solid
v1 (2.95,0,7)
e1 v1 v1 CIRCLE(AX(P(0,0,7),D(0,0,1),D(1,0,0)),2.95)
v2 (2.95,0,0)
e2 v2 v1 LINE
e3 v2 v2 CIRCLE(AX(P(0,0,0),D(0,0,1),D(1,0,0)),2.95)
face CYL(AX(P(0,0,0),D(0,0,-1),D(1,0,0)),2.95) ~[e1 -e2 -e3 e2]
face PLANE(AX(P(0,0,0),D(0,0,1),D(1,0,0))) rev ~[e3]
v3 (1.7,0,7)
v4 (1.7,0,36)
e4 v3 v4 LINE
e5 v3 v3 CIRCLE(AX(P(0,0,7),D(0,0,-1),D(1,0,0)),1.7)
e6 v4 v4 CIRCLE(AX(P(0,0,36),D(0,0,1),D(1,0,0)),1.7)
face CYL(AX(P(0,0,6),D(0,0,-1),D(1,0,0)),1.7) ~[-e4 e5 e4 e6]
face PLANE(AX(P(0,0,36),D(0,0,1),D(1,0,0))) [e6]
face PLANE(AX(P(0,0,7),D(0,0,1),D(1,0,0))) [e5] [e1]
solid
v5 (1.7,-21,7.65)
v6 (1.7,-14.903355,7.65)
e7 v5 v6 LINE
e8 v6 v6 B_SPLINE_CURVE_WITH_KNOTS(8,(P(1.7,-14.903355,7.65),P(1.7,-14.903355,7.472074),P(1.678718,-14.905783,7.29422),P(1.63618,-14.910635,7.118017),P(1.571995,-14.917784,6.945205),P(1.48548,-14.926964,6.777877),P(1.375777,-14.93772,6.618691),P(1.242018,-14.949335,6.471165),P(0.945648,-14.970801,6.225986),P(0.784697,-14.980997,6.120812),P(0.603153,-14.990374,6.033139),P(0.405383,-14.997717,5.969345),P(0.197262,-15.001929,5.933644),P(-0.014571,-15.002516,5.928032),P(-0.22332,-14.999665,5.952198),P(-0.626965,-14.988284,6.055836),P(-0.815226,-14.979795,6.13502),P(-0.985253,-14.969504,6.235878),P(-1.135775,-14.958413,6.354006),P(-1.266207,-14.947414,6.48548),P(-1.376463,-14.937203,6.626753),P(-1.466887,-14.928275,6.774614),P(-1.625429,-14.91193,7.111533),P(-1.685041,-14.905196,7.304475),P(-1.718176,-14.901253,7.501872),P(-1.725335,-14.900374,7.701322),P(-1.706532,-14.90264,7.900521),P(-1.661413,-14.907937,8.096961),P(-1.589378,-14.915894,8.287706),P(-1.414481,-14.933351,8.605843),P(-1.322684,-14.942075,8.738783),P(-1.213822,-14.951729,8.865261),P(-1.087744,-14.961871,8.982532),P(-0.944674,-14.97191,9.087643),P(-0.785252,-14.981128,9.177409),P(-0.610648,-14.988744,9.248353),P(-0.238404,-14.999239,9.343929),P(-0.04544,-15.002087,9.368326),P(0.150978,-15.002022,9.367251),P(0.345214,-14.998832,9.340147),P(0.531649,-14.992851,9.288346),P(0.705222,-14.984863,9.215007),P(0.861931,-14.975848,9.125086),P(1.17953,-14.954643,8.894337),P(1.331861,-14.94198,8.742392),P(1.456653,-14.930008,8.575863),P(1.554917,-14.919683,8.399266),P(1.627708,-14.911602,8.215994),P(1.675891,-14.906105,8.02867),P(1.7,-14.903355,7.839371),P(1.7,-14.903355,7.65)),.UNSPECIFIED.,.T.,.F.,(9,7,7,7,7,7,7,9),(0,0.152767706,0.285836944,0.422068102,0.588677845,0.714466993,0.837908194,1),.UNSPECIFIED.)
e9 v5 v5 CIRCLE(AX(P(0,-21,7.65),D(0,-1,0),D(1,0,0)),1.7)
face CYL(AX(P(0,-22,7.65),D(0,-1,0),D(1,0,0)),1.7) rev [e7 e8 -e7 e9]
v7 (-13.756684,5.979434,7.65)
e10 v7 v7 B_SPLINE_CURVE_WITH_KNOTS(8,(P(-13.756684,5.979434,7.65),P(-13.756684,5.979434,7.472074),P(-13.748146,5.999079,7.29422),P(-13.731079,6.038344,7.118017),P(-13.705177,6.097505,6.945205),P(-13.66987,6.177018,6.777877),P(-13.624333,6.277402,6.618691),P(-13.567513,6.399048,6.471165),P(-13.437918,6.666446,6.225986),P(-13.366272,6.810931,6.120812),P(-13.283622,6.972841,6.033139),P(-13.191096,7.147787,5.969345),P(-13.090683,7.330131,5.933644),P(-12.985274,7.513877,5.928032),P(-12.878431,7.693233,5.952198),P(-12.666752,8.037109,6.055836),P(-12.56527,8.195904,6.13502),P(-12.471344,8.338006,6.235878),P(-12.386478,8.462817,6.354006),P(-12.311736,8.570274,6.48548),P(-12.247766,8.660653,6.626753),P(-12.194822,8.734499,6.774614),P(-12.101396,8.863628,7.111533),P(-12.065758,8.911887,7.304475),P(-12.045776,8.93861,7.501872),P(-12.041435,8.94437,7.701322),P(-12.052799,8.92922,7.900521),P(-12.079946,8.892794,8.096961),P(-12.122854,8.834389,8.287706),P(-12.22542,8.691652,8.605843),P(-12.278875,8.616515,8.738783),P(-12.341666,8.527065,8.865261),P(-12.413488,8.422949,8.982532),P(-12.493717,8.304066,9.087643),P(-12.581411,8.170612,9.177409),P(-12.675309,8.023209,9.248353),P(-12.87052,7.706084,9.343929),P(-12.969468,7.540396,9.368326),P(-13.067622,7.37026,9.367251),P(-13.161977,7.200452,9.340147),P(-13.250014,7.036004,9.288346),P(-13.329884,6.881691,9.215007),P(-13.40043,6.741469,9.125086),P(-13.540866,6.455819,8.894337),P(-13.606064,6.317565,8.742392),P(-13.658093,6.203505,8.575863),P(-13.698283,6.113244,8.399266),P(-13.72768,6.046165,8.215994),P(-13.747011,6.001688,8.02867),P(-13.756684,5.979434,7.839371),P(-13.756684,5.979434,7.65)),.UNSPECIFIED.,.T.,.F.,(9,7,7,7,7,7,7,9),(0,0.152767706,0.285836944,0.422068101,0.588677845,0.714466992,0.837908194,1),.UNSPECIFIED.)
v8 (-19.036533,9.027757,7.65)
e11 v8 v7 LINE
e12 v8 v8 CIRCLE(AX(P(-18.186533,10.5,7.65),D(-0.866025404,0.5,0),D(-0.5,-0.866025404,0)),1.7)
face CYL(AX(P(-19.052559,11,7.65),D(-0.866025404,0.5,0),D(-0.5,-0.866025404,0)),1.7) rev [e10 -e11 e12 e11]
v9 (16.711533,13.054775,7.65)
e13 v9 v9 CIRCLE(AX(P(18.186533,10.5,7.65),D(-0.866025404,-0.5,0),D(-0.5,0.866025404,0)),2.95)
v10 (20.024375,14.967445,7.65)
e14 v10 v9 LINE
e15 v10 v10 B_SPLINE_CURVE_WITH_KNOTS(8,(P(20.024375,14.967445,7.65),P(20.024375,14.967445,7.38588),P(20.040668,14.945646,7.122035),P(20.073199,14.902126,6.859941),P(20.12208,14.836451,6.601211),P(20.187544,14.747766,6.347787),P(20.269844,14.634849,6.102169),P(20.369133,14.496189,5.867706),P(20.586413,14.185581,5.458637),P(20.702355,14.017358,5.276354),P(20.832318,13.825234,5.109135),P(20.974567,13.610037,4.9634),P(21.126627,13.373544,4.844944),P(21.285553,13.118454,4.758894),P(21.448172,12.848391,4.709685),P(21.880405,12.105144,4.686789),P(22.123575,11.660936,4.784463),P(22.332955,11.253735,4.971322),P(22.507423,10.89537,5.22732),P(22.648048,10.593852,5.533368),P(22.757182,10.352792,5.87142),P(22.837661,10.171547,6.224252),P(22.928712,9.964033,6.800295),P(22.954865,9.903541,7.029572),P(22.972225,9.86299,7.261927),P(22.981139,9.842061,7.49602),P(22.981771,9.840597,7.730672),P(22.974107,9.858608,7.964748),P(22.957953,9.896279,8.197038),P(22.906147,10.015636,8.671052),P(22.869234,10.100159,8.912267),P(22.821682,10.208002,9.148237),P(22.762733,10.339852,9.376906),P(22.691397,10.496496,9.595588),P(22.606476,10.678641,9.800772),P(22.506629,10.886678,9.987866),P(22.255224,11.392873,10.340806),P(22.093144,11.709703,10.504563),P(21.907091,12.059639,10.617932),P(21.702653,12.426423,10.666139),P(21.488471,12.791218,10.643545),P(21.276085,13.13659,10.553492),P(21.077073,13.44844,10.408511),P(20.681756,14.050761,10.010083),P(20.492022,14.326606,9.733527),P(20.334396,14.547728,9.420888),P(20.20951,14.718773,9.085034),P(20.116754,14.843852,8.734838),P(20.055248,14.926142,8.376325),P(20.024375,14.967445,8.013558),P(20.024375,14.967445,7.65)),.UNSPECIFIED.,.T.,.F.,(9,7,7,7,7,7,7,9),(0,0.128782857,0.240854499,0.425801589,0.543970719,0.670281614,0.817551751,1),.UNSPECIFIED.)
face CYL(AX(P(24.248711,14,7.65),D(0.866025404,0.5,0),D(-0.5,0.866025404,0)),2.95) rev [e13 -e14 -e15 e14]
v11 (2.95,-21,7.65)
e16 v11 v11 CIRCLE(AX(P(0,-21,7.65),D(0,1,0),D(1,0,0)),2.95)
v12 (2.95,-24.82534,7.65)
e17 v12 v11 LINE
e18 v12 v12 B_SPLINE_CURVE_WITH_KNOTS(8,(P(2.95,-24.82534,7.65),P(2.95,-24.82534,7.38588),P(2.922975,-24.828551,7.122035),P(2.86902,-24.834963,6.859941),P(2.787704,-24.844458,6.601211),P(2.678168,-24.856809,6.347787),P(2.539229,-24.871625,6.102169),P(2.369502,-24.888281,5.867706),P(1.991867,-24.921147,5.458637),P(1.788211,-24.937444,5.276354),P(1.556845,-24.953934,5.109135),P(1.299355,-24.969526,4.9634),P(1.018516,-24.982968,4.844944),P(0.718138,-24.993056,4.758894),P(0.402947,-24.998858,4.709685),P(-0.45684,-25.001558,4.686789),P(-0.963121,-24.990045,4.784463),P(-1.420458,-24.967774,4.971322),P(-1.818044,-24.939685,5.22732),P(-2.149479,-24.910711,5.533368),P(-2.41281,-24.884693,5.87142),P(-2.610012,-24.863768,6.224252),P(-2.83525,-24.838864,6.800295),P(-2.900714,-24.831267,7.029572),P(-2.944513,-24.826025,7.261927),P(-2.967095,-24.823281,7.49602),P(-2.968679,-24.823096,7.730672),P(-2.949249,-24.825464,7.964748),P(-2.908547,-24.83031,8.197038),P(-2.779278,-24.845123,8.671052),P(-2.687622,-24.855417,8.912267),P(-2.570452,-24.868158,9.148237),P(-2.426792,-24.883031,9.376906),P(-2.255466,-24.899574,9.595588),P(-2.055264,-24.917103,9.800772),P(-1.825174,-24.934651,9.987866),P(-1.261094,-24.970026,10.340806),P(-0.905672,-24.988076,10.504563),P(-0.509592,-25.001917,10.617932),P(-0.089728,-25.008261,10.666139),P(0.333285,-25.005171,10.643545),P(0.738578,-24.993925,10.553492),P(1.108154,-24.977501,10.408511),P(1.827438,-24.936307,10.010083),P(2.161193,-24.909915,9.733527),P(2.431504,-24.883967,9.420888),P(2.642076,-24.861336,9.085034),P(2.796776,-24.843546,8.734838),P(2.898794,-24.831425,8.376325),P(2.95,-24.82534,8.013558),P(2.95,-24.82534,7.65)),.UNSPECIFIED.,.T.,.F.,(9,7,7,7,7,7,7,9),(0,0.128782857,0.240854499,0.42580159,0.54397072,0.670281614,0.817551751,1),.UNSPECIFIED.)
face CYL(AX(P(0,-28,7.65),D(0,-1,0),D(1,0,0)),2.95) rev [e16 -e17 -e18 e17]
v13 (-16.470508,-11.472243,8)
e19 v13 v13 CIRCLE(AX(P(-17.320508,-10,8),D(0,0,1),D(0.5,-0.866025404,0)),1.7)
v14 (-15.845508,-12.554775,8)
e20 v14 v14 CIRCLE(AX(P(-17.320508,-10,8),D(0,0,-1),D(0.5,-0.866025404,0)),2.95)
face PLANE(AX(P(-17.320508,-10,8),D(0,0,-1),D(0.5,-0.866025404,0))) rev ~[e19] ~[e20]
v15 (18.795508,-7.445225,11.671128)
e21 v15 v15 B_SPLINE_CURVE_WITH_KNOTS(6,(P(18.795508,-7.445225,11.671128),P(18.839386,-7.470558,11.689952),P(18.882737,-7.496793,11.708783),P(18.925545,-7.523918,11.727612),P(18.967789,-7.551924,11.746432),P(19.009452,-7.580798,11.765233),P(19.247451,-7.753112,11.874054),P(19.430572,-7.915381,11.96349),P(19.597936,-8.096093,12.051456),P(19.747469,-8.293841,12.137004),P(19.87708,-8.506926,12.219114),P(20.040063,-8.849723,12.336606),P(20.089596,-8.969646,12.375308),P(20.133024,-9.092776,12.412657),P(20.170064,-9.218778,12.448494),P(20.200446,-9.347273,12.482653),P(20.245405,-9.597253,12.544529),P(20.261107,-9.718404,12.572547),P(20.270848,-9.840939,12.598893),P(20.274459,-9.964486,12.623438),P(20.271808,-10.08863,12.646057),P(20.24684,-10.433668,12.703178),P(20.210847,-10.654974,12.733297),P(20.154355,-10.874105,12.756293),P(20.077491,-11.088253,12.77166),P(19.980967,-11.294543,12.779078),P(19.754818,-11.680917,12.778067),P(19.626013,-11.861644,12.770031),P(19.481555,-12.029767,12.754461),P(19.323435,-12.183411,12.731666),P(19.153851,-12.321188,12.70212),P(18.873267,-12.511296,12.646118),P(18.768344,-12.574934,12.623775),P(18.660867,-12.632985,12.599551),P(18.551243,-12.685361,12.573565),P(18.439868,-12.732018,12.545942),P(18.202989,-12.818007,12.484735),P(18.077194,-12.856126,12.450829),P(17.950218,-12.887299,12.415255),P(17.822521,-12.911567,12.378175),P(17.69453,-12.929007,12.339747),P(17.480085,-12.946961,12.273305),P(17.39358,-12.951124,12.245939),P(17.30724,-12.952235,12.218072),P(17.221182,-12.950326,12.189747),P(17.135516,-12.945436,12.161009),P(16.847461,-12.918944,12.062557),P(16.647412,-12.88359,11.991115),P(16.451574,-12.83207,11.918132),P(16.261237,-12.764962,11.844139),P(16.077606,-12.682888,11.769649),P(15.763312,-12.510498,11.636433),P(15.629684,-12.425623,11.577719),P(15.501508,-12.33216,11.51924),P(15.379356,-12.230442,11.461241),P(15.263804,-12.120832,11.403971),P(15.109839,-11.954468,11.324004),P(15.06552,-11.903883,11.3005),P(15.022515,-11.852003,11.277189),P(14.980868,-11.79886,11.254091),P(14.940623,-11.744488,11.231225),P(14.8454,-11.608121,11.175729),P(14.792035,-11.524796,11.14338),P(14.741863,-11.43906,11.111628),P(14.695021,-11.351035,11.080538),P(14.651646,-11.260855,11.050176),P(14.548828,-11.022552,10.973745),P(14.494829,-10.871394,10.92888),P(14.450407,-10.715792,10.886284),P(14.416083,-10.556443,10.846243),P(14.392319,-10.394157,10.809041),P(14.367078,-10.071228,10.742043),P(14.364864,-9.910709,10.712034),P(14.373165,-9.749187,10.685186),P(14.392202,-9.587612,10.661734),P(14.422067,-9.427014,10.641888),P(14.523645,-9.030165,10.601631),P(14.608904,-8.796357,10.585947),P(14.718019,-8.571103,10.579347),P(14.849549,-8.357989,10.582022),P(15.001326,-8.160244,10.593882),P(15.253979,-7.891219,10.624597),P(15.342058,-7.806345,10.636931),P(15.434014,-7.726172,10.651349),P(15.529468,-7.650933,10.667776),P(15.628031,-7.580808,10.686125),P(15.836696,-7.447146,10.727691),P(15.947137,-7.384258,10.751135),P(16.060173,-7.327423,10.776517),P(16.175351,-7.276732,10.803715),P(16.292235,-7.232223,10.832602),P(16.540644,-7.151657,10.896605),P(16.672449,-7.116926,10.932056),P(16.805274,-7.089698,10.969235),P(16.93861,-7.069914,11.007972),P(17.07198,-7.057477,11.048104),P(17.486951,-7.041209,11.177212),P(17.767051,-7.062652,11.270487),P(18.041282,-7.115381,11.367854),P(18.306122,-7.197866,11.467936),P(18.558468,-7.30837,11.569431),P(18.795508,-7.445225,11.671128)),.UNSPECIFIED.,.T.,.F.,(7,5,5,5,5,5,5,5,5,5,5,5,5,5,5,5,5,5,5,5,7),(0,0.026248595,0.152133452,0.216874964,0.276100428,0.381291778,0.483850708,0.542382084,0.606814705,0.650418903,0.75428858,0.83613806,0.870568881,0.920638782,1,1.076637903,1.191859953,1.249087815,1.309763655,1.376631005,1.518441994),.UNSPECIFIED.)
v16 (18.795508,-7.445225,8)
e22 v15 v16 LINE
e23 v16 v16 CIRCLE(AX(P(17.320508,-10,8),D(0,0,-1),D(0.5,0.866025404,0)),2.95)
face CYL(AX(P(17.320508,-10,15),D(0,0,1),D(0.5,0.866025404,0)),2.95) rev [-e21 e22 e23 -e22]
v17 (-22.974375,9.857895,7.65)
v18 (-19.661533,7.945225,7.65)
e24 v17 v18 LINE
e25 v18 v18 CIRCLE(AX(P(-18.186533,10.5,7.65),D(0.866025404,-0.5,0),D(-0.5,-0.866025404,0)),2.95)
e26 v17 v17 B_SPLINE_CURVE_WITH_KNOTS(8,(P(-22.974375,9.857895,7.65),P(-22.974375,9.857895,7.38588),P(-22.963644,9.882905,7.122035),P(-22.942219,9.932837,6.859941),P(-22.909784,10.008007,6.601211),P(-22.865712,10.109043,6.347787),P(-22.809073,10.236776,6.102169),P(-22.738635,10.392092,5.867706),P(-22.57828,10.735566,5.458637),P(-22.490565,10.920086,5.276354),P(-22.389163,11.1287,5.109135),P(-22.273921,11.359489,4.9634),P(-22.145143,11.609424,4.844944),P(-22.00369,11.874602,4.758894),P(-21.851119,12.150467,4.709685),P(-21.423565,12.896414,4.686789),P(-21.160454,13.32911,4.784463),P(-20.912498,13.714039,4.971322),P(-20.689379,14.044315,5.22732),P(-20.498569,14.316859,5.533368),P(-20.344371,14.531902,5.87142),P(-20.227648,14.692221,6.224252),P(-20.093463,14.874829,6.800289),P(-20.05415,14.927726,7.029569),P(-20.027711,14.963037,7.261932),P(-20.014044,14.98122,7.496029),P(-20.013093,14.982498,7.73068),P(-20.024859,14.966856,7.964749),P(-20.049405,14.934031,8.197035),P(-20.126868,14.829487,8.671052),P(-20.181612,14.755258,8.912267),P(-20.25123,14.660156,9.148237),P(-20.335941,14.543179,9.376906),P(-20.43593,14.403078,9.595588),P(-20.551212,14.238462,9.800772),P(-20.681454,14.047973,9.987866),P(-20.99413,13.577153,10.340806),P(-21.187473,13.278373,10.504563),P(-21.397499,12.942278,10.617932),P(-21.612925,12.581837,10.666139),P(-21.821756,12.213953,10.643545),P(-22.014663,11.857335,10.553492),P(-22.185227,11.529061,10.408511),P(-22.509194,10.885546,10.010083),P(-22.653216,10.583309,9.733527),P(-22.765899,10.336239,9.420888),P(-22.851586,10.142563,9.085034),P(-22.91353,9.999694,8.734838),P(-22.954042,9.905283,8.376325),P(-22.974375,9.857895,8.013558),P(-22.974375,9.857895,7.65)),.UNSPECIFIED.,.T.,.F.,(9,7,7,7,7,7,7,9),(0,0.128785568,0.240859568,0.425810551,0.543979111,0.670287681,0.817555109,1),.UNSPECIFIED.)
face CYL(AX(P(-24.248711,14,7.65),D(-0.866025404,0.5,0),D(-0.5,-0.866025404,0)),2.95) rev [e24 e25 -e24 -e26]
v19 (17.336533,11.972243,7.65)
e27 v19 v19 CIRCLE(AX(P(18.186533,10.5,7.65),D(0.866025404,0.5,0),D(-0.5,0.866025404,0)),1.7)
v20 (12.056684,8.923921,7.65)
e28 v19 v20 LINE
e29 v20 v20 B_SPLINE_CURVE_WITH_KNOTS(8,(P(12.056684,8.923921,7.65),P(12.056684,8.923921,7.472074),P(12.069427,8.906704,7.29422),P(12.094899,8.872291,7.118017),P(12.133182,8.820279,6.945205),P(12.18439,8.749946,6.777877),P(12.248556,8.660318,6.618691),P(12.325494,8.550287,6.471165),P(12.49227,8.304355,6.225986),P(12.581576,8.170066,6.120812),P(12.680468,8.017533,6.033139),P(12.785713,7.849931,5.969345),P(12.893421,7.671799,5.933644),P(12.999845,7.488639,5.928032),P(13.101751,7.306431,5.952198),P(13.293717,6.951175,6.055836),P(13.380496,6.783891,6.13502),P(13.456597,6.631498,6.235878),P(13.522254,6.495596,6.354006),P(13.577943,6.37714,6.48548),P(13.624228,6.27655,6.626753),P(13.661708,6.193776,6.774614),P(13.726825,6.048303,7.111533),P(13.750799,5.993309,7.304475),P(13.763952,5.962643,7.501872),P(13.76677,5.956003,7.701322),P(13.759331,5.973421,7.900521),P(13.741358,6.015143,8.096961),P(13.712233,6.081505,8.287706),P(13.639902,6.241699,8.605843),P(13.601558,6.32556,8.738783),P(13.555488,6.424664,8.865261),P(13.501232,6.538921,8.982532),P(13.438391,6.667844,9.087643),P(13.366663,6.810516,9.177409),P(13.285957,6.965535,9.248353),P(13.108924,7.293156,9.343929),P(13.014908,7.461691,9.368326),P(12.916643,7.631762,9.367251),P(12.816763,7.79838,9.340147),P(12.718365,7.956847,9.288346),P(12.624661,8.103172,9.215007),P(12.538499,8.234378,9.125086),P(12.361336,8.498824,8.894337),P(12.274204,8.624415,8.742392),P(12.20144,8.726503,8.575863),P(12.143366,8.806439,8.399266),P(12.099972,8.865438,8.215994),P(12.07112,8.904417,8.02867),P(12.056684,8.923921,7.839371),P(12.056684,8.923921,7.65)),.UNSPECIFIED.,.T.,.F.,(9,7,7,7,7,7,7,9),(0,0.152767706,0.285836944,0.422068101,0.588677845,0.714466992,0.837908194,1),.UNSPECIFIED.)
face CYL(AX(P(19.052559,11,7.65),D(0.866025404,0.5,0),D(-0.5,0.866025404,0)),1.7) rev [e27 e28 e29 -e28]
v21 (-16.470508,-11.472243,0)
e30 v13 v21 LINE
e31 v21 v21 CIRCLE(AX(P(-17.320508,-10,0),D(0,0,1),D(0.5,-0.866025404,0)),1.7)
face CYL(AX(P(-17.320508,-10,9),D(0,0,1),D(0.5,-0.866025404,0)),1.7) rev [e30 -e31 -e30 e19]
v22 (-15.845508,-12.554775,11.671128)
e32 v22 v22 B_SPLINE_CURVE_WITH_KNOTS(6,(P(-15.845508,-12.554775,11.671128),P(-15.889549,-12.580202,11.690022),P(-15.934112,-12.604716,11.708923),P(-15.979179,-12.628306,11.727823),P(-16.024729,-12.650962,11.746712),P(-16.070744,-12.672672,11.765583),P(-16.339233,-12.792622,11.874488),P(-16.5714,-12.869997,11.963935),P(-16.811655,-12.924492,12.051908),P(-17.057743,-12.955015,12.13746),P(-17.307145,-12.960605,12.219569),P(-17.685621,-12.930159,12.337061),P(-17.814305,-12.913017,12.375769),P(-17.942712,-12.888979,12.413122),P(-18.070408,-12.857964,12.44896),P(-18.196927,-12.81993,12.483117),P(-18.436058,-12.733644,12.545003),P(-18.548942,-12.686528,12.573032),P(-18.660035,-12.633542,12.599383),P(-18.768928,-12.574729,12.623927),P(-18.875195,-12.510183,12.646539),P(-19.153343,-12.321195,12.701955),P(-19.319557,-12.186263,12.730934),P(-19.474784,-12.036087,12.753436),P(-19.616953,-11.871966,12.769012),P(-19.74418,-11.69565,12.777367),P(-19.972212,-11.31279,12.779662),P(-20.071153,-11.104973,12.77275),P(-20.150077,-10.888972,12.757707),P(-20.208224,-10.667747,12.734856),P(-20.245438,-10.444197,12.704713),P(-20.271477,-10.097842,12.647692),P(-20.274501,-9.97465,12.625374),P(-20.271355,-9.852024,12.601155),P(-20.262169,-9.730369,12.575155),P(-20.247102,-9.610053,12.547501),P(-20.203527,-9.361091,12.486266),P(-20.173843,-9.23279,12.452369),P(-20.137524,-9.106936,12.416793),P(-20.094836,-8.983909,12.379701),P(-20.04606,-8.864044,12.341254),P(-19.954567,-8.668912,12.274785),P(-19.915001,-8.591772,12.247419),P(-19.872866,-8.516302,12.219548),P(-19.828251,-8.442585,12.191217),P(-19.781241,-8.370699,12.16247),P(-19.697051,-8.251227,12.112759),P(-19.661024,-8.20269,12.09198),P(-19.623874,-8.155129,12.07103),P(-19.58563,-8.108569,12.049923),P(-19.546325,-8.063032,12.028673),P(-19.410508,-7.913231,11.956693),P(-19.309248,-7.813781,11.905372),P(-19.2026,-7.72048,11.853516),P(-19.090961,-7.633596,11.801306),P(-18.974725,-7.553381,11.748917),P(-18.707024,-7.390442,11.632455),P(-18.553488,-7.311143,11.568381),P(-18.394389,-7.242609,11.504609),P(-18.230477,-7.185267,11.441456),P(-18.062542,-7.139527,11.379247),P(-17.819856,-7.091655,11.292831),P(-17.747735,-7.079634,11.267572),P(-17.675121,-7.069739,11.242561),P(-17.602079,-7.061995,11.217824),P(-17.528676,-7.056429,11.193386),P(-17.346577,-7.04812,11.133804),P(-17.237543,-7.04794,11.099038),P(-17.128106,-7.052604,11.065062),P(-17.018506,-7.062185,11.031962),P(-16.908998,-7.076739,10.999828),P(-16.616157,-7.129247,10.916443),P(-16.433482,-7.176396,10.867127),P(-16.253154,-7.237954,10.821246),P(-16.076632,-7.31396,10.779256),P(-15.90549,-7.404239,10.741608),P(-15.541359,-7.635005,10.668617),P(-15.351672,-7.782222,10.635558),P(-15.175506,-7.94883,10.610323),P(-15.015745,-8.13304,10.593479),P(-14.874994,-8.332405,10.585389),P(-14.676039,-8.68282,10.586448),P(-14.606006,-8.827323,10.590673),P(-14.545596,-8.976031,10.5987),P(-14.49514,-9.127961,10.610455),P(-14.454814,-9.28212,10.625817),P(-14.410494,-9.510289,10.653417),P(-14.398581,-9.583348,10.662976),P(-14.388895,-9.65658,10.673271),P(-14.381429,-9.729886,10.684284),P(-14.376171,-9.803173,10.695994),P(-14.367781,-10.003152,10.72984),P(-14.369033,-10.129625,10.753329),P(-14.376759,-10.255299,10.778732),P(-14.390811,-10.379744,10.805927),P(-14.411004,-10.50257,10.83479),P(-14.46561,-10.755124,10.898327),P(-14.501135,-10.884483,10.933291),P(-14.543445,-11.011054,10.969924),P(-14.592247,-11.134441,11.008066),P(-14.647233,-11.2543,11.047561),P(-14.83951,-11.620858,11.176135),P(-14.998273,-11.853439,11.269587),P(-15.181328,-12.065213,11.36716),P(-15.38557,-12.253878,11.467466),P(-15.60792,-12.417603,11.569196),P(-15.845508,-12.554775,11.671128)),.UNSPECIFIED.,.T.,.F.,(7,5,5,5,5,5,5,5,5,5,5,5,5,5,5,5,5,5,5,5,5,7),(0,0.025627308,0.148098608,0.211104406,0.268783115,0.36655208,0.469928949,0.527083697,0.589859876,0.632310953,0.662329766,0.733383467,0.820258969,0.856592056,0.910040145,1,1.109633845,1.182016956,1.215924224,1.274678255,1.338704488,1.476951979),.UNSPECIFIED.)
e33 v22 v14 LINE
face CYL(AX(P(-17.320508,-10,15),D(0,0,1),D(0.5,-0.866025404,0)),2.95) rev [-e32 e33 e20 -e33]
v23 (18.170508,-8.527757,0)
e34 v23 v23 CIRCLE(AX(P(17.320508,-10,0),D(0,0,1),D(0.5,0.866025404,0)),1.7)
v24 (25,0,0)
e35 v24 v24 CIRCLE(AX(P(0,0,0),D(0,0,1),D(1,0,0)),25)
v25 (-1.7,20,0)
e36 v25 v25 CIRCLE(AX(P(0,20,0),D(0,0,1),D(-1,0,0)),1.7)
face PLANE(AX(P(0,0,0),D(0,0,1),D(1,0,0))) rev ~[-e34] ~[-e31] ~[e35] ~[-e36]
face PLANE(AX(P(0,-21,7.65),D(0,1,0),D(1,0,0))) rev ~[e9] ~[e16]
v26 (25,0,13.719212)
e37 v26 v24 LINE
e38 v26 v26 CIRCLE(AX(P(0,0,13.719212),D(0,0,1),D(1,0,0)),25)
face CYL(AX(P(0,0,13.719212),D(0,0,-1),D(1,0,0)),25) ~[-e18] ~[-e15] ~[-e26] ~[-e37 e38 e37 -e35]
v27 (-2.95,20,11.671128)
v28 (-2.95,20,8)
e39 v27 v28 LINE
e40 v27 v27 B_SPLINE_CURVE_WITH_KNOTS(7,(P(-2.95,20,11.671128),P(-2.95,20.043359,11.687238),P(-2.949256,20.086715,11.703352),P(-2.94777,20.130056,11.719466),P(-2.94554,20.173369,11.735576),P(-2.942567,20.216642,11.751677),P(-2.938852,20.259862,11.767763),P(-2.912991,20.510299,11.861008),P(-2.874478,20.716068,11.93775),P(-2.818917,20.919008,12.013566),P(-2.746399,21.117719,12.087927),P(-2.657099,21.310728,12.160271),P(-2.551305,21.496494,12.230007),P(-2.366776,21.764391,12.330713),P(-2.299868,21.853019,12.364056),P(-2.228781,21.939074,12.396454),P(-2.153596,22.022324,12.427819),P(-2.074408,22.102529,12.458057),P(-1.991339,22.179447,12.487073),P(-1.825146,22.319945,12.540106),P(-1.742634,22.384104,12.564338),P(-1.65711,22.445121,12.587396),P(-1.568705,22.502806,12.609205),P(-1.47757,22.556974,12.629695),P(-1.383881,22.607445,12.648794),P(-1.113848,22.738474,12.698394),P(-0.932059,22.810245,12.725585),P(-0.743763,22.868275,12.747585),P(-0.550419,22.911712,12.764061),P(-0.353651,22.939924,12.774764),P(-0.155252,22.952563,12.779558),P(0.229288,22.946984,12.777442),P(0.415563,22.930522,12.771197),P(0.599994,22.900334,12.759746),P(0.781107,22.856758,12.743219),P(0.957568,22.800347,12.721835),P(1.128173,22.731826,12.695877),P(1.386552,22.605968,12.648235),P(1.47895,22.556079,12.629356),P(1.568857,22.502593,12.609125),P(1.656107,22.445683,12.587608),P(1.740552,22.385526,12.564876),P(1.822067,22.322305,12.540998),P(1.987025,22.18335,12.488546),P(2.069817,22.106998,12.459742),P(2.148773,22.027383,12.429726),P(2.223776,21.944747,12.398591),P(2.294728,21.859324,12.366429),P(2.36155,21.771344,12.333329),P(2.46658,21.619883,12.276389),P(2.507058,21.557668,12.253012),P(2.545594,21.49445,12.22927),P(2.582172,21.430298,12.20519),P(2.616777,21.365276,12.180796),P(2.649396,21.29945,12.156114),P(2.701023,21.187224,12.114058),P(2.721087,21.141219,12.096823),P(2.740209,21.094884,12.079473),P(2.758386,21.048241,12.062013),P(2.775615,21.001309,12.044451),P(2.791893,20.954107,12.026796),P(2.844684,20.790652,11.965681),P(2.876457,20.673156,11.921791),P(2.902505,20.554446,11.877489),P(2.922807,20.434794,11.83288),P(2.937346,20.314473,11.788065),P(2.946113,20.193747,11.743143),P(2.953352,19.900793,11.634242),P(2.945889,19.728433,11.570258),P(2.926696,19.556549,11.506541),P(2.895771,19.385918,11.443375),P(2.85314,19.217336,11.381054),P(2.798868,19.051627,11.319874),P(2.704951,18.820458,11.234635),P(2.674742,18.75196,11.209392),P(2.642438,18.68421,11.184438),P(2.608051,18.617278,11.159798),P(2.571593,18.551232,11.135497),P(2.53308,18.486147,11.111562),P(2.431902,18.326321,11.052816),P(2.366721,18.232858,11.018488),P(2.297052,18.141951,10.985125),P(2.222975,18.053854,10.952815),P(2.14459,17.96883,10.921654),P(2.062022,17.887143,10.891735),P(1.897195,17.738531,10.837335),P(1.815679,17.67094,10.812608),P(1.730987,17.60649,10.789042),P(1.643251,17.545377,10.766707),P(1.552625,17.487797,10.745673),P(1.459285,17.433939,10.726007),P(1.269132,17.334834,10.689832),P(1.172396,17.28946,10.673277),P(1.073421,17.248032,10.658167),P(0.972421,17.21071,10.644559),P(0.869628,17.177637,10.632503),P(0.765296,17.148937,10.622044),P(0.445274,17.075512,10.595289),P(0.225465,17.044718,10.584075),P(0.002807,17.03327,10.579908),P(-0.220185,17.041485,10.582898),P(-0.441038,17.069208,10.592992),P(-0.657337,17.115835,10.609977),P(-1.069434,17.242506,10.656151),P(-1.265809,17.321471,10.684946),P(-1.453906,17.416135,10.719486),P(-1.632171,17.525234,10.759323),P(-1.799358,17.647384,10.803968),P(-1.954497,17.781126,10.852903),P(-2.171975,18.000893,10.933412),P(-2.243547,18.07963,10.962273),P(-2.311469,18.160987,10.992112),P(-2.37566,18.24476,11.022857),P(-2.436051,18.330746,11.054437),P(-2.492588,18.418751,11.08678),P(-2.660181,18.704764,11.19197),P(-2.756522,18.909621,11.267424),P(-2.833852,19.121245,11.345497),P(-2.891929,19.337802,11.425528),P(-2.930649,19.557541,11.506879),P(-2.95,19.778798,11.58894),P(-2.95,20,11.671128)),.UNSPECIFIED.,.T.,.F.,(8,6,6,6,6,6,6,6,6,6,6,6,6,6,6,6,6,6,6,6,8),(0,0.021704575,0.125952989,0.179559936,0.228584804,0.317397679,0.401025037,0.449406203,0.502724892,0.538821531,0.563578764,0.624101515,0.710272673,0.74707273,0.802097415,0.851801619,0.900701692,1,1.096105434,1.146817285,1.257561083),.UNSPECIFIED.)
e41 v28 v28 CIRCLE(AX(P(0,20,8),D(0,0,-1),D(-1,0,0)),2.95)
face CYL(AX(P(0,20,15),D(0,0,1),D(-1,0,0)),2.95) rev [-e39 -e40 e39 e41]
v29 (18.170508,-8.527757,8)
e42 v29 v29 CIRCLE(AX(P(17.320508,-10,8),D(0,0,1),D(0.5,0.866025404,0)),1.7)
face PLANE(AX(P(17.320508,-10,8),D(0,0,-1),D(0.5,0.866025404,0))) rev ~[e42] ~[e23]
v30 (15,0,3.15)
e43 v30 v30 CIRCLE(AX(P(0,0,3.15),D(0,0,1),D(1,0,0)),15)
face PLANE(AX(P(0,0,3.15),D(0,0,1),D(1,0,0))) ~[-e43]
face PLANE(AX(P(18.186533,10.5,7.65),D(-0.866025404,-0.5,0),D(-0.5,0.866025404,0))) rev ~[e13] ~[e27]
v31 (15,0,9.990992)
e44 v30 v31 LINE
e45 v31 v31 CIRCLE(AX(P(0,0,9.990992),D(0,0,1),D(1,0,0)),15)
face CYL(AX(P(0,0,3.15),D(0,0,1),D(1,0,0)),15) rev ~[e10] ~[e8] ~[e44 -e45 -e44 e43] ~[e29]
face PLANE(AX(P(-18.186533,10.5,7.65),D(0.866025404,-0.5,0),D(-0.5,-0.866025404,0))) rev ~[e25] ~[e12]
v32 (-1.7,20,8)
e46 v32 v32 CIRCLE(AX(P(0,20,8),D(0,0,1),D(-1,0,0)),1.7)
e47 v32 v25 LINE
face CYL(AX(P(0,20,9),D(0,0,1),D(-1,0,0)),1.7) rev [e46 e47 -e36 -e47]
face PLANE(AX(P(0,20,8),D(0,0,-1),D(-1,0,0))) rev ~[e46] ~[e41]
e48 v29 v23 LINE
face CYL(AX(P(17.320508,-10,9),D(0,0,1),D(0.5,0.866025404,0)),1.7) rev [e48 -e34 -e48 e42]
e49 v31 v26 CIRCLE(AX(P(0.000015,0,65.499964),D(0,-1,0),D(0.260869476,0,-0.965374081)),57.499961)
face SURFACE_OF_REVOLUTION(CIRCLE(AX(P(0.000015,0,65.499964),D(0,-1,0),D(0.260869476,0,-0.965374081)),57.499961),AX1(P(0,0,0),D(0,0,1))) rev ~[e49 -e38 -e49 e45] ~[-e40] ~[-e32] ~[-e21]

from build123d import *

# Parameters (mm, degrees)
CYLINDER_R               = 2.95
CYLINDER_DEPTH           = 7
CYLINDER001_R            = 1.7
CYLINDER001_DEPTH        = 30
CLONE308_ROLL_ANGLE      = -90
ARRAY013_COUNT           = 3
CLONE307_PLACEMENT_ANGLE = 180
ARRAY012_COUNT           = 3


with BuildPart() as m3bolthead:
    # Cylinder → Cylinder (new body)
    with BuildSketch(Plane.XY):
        Circle(CYLINDER_R)
    extrude(amount=CYLINDER_DEPTH)


with BuildPart() as m3bolt:
    # Cylinder001 → Cylinder001 (new body)
    with BuildSketch(Plane.XY.offset(6)):
        Circle(CYLINDER001_R)
    extrude(amount=CYLINDER001_DEPTH)

    # Fusion: union M3BoltHead
    add(m3bolthead.part)


with BuildPart() as array013:
    # Clone308 base: copy of M3Bolt
    add(m3bolt.part)


with BuildPart() as array013_1:
    # Clone308 roll: moved
    add(array013.part.rotate(Axis((0, 0, 0), (1, 0, 0)), CLONE308_ROLL_ANGLE))


with BuildPart() as array013_2:
    # Clone308 placement: moved
    add(array013_1.part.moved(Location((0, -28, 7.65))))

    # Array013: Array013 ×3 about axis
    array013_axis = Axis((0, 0, 0), (0, 0, 1))


with BuildPart() as array013_3:
    add(array013_2.part)
    for i in range(1, ARRAY013_COUNT):
        add(array013_2.part.rotate(array013_axis, i * 360 / ARRAY013_COUNT))


with BuildPart() as fusion110:
    # Clone307 base: copy of M3Bolt
    add(m3bolt.part)


with BuildPart() as fusion110_1:
    # Clone307 placement: moved
    add(fusion110.part.moved(Location((0, 20, 15))).rotate(Axis((0, 20, 15), (0, 1, 0)), CLONE307_PLACEMENT_ANGLE))

    # Array012: Fusion110 ×3 about axis
    array012_axis = Axis((0, 0, 0), (0, 0, 1))


with BuildPart() as fusion110_2:
    add(fusion110_1.part)
    for i in range(1, ARRAY012_COUNT):
        add(fusion110_1.part.rotate(array012_axis, i * 360 / ARRAY012_COUNT))

    # Fusion110: union Array013
    add(array013_3.part)


with BuildPart() as art56interface:
    # Sketch060 → Revolution013 (revolve)
    with BuildSketch(Plane.XZ):
        with BuildLine():
            Line((25, 13.719212), (25, 0))
            Line((25, 0), (0, 0))
            Line((0, 0), (0, 3.15))
            Line((0, 3.15), (15, 3.15))
            Line((15, 3.15), (15, 9.990992))
            ThreePointArc((15, 9.990992), (20.086685, 11.622592), (25, 13.719212))
        make_face()
    revolve(axis=Axis((0, 0, 0), (0, 0, 1)))

    # Cut091: cut Fusion110
    add(fusion110_2.part, mode=Mode.SUBTRACT)


solid = Compound([m3bolt.part, art56interface.part])
